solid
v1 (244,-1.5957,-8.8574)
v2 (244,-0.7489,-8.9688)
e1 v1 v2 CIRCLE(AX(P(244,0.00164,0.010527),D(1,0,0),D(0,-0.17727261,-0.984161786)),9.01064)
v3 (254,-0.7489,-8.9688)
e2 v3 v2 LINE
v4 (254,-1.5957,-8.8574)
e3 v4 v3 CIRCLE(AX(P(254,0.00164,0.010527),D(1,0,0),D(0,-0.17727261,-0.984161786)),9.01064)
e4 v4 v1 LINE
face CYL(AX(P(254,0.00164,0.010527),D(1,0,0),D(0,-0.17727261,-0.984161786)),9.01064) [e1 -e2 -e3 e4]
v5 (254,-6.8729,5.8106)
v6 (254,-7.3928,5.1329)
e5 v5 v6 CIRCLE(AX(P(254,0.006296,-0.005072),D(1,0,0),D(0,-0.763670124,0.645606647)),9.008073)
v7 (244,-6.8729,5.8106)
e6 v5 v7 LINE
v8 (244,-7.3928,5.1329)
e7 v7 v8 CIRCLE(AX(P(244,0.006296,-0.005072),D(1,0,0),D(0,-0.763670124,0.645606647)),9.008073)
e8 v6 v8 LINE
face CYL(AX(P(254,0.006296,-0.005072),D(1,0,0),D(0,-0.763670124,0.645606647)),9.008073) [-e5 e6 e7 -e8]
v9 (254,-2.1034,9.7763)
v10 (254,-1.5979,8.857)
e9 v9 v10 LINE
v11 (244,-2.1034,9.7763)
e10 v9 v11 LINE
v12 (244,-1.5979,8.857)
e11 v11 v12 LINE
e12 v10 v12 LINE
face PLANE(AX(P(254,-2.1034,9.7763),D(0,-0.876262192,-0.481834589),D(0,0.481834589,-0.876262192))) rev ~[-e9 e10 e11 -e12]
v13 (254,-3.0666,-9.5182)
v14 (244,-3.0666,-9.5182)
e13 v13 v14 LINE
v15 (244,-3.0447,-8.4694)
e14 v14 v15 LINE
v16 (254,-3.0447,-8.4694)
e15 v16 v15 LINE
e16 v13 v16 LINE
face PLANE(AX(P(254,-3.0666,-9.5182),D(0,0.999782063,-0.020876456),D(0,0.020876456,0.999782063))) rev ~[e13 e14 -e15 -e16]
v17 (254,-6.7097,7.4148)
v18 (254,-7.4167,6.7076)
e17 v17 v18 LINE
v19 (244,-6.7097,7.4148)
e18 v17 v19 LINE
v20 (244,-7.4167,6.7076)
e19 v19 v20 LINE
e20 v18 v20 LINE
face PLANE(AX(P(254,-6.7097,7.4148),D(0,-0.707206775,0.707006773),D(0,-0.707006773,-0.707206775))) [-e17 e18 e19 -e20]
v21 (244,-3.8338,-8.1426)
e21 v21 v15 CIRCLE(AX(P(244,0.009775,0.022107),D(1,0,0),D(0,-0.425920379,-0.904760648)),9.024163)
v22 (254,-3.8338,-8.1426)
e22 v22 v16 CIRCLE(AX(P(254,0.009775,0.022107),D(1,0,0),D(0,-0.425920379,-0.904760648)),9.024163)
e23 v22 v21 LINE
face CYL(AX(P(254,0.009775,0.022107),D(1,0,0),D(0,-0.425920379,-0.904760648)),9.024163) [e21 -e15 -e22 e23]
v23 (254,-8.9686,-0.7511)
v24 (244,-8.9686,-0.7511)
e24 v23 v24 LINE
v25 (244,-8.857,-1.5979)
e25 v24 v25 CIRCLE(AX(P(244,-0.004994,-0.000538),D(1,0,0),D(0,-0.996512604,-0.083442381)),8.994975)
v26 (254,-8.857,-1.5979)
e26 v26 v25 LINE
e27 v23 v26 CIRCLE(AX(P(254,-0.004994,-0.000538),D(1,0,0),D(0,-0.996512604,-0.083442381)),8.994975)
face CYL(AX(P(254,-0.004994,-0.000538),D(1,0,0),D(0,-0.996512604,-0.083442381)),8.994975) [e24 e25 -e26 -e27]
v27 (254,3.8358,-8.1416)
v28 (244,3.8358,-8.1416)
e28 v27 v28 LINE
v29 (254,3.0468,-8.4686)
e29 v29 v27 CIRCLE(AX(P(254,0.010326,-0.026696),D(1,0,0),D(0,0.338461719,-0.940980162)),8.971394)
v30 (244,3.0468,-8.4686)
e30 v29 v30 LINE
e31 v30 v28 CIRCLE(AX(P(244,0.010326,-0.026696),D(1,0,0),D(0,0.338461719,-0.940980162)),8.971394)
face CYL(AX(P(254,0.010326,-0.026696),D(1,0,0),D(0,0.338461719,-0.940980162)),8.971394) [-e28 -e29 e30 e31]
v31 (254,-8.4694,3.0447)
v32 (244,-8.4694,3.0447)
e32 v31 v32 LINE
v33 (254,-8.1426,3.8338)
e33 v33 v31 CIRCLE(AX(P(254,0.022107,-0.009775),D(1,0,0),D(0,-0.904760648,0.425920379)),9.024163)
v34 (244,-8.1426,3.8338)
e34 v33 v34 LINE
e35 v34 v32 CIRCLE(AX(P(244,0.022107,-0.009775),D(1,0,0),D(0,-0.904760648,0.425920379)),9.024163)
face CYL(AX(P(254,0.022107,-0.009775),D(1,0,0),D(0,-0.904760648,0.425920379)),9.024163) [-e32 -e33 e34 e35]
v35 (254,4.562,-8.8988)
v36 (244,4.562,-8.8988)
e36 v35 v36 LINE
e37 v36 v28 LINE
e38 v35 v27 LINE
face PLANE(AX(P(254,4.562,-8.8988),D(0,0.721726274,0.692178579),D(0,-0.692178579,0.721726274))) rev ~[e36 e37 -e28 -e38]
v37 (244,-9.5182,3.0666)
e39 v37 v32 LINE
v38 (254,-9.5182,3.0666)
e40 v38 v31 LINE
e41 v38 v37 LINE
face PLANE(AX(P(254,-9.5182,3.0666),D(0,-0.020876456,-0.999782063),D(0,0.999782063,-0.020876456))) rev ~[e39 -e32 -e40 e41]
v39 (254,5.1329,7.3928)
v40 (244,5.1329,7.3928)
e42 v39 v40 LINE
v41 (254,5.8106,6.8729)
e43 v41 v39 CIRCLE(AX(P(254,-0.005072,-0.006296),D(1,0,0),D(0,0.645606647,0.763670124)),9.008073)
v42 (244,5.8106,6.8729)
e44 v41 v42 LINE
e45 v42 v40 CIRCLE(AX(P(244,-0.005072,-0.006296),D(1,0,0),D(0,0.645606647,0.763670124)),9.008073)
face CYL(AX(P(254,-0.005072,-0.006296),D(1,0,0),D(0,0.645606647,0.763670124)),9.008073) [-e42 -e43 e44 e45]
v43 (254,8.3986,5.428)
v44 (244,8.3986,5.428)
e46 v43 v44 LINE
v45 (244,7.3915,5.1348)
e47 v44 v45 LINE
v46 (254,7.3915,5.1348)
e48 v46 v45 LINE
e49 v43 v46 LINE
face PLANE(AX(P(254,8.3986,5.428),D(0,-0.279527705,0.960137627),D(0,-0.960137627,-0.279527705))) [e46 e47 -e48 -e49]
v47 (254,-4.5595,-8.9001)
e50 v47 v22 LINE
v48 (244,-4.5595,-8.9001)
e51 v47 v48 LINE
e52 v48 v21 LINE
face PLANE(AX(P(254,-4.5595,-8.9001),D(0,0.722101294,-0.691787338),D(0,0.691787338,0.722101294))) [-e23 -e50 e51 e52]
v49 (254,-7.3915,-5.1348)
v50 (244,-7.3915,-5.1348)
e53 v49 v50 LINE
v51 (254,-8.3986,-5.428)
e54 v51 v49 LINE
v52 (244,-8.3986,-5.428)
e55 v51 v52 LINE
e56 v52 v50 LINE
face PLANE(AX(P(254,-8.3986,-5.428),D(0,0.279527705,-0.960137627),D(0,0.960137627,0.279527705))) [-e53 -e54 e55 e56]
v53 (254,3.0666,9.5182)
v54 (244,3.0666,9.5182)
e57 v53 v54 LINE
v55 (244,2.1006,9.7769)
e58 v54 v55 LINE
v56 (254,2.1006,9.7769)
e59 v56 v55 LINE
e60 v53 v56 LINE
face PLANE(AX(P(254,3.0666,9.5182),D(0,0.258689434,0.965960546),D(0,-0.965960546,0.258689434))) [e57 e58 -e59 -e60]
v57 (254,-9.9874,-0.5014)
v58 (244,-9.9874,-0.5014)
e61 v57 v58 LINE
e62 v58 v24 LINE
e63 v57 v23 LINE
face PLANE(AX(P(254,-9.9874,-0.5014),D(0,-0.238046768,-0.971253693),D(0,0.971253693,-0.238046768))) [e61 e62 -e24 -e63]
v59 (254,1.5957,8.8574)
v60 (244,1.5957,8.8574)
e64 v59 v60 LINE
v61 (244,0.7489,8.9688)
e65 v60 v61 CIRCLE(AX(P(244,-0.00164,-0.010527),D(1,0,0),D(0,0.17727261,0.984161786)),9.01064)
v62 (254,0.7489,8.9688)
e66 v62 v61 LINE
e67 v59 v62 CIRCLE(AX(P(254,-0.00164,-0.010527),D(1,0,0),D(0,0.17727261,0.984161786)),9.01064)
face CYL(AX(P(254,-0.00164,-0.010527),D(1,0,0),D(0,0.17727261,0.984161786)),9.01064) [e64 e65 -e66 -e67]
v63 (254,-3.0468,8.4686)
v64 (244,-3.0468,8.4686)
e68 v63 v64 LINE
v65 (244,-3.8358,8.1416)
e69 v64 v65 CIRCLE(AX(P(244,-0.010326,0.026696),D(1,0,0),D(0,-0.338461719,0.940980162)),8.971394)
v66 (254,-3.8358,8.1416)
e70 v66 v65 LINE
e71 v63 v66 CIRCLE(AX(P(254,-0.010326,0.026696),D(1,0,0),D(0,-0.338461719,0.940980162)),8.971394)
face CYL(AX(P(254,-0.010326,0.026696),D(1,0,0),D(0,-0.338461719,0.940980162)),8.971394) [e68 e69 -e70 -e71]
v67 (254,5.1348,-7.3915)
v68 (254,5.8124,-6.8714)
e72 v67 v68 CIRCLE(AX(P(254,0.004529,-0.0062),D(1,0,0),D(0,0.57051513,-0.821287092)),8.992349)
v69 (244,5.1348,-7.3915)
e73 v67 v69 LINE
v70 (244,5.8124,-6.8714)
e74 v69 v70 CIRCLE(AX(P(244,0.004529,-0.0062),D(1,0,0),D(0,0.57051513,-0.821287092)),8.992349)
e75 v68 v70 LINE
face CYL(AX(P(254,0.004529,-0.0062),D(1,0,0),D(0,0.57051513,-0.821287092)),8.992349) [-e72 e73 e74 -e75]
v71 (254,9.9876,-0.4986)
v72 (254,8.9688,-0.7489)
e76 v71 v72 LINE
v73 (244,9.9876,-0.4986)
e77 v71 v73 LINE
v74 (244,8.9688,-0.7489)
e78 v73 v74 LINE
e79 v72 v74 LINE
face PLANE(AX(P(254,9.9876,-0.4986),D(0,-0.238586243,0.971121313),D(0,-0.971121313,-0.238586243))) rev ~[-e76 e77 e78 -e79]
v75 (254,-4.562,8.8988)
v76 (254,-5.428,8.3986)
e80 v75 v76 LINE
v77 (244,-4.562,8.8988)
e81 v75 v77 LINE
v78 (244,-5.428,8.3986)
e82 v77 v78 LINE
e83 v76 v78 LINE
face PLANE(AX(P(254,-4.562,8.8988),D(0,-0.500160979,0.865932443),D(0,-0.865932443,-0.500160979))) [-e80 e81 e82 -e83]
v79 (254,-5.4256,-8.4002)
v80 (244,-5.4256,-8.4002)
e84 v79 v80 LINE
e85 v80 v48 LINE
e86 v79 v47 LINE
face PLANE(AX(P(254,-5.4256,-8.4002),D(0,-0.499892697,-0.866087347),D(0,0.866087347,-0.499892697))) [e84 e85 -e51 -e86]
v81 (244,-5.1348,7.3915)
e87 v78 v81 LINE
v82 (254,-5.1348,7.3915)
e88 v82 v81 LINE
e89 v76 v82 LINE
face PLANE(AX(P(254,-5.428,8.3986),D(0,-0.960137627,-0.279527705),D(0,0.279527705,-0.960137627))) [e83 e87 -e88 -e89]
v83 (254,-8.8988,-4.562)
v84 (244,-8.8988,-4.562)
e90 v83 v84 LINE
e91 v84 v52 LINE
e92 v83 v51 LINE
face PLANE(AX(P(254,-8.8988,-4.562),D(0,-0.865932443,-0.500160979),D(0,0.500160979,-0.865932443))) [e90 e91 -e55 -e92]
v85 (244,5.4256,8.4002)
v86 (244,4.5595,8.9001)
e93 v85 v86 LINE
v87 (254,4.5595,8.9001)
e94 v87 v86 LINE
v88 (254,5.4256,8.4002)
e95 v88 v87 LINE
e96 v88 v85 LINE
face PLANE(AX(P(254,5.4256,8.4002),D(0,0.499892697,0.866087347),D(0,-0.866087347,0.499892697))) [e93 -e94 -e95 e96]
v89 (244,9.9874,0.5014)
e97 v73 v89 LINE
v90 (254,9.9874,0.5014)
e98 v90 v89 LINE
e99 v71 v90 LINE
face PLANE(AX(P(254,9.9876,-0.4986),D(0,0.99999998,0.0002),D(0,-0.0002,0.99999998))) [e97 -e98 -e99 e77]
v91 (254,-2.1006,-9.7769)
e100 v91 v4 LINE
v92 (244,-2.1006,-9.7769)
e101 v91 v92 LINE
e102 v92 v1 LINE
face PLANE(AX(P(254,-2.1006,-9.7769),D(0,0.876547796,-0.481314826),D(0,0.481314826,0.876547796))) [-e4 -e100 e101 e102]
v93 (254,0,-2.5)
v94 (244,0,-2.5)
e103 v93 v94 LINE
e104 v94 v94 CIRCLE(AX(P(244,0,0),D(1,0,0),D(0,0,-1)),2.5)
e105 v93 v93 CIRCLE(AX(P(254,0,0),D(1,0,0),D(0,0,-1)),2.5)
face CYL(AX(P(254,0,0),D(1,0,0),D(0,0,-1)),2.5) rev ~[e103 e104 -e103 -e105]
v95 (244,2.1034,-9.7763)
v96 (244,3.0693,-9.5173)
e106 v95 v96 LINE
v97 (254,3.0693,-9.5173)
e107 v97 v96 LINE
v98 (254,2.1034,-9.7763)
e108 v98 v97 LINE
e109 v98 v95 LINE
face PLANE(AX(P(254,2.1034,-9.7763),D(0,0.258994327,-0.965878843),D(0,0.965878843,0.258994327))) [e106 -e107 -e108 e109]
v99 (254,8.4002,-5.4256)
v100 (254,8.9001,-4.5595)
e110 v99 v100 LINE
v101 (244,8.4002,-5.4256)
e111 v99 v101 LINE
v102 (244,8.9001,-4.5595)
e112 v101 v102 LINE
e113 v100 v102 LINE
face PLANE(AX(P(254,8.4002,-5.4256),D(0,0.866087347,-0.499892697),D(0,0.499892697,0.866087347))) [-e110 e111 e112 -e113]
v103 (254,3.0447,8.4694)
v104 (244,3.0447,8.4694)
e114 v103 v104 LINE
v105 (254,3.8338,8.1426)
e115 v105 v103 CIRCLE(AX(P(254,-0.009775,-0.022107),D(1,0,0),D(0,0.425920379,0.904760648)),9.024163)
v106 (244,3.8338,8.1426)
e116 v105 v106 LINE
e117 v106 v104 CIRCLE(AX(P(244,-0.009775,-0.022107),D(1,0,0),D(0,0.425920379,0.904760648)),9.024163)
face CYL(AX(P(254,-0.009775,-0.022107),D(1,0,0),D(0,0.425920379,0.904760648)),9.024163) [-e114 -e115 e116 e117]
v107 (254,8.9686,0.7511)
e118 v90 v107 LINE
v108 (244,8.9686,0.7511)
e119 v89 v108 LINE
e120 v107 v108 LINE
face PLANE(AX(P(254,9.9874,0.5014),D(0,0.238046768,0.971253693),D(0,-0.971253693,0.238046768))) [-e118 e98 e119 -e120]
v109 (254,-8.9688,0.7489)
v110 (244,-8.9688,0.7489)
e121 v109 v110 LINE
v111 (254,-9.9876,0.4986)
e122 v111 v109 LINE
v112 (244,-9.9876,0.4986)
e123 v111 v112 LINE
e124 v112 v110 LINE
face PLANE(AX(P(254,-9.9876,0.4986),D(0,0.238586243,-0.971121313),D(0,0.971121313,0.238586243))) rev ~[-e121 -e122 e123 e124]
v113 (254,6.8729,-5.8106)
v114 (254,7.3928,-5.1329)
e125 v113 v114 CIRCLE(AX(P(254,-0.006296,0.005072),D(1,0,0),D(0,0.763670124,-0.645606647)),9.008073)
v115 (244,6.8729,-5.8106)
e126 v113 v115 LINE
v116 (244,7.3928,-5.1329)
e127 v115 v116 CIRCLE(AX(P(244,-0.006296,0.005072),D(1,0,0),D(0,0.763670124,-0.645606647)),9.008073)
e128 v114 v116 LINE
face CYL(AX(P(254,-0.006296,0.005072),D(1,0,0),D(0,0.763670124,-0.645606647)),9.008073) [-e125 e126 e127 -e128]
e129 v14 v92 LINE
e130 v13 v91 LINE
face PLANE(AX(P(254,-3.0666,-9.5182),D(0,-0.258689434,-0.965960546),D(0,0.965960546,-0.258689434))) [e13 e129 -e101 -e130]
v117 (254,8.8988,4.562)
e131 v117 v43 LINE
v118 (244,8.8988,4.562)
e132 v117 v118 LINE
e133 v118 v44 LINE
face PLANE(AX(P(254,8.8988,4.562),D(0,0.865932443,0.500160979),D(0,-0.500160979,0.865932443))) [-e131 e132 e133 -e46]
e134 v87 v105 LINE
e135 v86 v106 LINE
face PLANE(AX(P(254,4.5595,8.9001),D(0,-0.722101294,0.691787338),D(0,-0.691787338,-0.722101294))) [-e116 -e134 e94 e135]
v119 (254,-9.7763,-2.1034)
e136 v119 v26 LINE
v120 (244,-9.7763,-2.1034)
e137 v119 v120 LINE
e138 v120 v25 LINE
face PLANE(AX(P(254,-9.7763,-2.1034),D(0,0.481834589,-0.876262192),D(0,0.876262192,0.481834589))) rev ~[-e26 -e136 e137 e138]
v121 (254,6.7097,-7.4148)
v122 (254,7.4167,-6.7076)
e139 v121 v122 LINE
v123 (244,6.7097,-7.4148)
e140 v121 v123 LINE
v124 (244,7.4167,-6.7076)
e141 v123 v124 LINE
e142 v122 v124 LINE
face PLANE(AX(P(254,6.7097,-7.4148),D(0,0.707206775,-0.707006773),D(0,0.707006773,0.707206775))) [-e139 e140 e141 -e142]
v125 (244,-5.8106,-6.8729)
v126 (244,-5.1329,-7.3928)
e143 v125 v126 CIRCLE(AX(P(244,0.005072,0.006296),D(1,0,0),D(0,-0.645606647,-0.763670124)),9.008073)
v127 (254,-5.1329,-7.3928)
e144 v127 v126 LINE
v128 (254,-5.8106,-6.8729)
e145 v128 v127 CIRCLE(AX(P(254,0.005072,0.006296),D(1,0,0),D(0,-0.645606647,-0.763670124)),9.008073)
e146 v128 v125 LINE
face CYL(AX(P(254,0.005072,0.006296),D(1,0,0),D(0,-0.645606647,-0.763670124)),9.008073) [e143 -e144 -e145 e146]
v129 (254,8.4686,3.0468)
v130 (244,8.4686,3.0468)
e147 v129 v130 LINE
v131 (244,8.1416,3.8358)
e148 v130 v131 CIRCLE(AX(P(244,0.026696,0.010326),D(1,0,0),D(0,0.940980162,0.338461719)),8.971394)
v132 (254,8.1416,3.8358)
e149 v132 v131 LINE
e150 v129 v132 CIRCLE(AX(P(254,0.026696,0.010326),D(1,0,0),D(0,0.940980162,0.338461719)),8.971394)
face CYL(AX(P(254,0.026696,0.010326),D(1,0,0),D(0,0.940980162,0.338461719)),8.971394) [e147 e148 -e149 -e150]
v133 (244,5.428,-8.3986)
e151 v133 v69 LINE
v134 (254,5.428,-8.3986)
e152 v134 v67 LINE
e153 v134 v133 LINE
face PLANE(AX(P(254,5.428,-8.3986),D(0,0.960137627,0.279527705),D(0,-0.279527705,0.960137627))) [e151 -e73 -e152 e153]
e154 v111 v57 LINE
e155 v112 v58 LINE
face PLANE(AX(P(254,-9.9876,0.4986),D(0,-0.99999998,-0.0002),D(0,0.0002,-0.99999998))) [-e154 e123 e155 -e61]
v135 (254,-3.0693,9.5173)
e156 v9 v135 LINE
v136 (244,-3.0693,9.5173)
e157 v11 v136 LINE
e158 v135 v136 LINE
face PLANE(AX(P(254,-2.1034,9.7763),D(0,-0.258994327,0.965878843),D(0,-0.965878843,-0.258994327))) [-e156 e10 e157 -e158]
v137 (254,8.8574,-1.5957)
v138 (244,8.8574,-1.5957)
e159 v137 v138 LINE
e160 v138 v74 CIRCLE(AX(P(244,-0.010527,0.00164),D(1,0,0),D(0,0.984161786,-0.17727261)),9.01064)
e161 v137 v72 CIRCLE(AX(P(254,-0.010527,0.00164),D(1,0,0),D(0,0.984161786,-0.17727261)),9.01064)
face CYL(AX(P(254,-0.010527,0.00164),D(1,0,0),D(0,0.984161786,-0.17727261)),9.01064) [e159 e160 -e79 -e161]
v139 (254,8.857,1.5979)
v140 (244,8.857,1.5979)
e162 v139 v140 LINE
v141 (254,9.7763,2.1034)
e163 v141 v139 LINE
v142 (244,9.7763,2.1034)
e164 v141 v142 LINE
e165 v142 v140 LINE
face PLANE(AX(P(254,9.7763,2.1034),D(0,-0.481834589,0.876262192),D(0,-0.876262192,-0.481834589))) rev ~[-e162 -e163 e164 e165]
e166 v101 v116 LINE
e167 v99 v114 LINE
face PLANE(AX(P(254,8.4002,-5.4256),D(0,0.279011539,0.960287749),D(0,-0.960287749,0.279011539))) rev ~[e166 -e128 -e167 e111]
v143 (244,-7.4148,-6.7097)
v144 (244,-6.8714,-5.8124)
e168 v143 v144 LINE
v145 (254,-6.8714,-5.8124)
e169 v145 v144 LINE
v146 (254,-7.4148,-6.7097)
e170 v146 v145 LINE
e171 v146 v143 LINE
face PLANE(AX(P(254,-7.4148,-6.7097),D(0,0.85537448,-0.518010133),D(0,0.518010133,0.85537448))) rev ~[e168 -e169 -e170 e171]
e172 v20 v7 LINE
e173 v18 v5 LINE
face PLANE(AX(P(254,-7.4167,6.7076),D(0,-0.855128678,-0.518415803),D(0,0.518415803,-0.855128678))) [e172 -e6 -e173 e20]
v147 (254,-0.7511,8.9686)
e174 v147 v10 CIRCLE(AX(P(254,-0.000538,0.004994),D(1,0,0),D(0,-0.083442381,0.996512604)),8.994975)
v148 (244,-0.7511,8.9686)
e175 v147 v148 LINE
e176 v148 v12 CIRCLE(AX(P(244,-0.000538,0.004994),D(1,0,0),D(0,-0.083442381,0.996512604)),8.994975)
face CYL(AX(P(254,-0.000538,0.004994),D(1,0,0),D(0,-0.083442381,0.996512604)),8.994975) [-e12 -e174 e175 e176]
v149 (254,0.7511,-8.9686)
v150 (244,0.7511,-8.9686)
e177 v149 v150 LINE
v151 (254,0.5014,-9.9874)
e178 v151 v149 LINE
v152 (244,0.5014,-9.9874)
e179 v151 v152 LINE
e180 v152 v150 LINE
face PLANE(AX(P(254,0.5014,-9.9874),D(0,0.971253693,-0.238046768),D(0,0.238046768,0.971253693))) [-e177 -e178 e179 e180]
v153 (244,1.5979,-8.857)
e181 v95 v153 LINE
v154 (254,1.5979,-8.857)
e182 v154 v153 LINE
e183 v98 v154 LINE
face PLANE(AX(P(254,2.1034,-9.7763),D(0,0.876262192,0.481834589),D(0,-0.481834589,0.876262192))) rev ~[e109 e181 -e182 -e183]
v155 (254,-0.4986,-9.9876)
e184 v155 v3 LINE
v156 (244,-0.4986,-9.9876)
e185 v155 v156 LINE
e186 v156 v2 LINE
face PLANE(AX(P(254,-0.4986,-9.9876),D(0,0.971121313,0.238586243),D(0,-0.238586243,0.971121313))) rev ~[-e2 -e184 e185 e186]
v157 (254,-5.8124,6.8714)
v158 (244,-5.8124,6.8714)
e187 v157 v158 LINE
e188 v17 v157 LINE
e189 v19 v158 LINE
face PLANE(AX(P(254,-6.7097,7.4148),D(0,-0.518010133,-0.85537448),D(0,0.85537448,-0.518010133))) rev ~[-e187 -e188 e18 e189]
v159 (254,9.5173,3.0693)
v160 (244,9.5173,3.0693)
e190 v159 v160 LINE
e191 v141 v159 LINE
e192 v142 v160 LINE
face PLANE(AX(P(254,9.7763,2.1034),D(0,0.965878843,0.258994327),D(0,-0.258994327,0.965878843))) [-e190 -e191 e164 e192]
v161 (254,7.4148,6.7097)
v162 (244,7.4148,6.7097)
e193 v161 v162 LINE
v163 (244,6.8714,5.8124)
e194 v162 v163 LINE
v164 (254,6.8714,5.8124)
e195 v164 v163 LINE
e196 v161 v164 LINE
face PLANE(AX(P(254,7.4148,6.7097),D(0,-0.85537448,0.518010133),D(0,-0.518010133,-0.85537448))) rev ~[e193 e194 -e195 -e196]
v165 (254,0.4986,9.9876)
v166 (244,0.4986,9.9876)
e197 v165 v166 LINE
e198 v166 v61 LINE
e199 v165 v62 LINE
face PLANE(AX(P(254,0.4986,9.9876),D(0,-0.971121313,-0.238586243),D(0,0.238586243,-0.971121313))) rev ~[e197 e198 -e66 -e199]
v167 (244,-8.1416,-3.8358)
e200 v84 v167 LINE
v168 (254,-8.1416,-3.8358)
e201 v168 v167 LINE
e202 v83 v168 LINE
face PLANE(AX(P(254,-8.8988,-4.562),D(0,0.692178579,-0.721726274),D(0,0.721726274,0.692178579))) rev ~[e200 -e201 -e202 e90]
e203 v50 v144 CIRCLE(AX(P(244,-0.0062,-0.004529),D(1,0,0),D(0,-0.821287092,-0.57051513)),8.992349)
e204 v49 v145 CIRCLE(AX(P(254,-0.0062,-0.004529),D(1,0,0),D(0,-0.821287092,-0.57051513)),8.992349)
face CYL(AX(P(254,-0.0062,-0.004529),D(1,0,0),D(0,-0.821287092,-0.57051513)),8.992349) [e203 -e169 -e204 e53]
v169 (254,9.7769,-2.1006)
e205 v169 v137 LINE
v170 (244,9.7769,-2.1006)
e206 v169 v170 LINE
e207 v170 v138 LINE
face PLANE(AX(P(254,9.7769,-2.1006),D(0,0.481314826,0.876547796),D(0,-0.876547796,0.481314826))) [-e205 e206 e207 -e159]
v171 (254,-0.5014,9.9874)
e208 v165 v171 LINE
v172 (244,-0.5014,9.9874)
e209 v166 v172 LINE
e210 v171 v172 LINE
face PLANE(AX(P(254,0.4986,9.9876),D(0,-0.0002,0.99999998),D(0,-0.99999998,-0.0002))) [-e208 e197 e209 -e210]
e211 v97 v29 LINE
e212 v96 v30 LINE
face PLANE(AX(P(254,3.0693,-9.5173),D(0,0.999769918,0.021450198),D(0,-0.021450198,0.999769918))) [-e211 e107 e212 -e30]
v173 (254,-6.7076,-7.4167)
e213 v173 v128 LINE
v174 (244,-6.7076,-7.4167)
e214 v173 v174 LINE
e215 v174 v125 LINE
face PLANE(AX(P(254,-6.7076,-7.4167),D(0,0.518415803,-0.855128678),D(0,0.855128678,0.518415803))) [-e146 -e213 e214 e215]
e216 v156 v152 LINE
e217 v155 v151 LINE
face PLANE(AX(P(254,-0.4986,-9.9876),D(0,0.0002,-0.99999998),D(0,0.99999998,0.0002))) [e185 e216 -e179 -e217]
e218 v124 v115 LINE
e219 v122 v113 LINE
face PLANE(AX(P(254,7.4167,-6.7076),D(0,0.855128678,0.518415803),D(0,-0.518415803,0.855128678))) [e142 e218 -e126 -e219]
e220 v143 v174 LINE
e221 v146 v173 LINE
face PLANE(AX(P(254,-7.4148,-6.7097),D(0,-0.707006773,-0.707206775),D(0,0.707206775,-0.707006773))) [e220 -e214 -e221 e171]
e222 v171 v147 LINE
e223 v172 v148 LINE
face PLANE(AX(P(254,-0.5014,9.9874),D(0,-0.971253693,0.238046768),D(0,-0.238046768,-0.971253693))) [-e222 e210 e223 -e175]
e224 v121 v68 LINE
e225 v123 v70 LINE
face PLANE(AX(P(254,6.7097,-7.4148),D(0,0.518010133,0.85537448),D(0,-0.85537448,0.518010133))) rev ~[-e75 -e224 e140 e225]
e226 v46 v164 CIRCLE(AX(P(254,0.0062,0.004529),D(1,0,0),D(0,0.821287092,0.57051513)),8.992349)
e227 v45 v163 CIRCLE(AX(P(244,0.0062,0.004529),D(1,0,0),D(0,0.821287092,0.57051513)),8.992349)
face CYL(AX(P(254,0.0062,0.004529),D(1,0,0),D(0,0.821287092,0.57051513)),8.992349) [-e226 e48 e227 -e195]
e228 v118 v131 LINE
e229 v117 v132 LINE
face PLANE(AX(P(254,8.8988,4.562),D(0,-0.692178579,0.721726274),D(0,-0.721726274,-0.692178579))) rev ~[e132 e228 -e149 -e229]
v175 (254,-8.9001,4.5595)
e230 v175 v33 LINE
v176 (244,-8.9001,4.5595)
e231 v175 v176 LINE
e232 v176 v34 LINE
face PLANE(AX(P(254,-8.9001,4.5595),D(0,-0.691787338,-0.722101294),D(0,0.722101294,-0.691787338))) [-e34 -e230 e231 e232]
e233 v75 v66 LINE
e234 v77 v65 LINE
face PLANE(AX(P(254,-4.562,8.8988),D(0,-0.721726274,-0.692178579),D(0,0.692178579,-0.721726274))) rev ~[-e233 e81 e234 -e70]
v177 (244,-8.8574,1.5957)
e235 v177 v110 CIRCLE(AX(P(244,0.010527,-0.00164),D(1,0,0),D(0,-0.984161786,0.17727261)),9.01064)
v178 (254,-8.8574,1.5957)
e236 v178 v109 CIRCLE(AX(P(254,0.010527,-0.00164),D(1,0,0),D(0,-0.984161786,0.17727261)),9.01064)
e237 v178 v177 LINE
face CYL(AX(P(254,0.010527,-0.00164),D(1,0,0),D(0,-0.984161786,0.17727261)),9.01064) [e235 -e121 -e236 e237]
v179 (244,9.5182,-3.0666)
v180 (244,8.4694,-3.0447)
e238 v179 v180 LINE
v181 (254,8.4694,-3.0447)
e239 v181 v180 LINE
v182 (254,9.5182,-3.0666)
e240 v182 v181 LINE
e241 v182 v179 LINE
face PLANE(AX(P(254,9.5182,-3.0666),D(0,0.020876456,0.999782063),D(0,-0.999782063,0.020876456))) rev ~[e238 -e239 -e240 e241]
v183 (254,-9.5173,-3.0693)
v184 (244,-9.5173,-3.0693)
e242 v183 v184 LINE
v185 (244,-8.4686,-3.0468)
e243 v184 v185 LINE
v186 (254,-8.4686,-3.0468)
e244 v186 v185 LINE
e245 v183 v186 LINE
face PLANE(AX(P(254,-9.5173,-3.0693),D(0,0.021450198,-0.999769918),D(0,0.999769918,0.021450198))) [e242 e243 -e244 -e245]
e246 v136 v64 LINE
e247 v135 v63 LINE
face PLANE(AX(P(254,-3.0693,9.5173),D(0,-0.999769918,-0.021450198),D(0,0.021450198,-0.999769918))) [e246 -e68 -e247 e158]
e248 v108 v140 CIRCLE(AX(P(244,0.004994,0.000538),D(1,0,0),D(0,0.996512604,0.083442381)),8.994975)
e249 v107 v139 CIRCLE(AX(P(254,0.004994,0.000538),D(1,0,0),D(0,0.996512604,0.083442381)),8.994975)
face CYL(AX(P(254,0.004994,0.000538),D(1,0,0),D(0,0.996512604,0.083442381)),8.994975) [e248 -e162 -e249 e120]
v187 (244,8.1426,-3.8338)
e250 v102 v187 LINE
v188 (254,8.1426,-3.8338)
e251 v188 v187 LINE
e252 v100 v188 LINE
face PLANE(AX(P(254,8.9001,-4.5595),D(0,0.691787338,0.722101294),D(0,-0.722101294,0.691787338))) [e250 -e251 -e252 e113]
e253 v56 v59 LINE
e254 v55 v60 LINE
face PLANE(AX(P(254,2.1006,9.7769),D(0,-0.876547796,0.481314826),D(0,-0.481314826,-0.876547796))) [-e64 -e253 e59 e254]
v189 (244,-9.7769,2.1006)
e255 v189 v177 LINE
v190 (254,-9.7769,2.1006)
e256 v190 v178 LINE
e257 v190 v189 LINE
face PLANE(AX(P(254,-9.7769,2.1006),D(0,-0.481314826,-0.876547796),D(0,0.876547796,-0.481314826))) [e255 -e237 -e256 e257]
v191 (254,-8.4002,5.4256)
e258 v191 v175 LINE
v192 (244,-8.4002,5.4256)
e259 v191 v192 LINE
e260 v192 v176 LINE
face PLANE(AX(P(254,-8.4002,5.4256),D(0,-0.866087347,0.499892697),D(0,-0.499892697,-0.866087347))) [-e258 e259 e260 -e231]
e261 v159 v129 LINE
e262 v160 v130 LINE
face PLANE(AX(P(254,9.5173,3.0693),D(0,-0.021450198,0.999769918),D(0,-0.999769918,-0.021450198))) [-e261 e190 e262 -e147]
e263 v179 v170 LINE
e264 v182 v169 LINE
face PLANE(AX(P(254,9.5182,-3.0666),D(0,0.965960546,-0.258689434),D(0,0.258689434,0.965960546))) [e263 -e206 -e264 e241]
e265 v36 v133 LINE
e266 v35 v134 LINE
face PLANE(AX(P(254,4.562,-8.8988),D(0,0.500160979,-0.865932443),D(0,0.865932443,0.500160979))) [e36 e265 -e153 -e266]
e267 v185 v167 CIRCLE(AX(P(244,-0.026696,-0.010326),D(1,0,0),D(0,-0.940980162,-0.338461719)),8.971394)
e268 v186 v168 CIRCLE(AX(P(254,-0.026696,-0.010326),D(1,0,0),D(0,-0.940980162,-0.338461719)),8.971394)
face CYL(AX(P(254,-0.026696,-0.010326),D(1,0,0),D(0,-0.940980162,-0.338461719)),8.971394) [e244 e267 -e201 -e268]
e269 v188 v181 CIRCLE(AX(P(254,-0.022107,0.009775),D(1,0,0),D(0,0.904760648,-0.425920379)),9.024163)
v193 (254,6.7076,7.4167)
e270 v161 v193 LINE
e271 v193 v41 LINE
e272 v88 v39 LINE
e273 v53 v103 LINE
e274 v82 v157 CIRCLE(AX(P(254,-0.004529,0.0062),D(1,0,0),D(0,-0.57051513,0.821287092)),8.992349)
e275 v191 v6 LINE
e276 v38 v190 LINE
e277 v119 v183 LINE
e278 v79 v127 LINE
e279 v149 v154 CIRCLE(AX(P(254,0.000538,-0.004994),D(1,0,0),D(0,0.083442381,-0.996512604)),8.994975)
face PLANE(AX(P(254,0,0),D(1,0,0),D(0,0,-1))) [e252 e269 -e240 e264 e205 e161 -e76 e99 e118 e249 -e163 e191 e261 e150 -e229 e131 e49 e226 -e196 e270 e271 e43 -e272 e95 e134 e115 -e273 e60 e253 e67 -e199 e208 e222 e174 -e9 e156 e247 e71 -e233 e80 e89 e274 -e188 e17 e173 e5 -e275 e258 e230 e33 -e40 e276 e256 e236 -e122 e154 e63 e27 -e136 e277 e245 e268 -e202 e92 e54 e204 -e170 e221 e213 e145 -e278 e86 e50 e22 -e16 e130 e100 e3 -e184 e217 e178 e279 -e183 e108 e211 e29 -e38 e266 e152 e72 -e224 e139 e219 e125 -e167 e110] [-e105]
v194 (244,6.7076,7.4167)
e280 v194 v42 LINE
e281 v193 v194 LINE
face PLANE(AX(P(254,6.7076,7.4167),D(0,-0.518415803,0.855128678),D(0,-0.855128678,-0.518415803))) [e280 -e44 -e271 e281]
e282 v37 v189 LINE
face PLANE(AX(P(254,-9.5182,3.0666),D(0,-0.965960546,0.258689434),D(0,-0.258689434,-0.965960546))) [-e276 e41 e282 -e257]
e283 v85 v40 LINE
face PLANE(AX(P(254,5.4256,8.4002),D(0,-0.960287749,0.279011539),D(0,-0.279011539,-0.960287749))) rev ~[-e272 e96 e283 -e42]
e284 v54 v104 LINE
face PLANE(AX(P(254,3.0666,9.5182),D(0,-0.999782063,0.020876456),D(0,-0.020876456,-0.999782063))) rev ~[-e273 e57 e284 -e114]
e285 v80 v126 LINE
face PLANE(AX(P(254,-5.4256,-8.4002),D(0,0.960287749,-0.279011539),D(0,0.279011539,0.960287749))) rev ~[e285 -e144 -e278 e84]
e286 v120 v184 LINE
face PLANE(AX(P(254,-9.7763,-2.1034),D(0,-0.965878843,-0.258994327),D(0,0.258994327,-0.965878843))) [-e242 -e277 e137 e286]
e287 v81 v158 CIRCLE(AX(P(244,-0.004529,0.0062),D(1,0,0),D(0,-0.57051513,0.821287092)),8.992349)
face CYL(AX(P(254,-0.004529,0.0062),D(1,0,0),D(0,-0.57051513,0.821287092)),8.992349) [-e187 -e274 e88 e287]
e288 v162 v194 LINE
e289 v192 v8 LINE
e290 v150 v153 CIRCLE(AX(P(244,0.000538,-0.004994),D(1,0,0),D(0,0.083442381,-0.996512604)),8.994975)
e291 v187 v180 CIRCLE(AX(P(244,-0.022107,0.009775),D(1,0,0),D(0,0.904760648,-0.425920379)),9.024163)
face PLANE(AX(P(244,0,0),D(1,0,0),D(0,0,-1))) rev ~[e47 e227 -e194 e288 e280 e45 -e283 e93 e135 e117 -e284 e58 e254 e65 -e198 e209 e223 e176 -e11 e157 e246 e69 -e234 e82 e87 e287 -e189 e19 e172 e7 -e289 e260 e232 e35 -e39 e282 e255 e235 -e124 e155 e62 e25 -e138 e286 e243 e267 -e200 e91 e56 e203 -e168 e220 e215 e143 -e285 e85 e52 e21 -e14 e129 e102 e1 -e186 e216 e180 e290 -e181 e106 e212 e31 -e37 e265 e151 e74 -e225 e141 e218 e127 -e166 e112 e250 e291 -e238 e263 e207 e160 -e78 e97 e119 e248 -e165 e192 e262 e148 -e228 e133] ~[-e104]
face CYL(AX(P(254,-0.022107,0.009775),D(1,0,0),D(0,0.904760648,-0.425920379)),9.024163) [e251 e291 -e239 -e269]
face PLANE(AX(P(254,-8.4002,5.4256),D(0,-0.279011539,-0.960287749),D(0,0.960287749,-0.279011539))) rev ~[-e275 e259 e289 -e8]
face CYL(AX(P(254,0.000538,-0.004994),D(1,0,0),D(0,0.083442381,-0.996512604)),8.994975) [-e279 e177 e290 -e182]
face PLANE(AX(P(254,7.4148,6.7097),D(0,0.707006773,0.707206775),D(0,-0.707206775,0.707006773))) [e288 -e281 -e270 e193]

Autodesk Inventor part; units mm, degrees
ref_plane "Work Plane1" through (254, 0, 0) normal (1, 0, 0) x (0, 0, -1)
ref_plane "Work Plane2" through (254, 0, 0) normal (1, 0, 0) x (0, 0, -1)
sketch "Sketch3" plane through (254, 0, 0) normal (1, 0, 0) x (0, 0, -1)
  arc A0 (-0.5014, 9.9874) -> (0.4986, 9.9876) centre (0, 0) ccw
  line L0 (0.4986, 9.9876) -> (-0.5014, 9.9874)
  line L1 (-0.5014, 9.9874) -> (-0.7511, 8.9686)
  line L2 (0.4986, 9.9876) -> (0.7489, 8.9688)
  line L3 (-3.0693, 9.5173) -> (-3.0468, 8.4686)
  line L4 (-2.1034, 9.7763) -> (-3.0693, 9.5173)
  line L5 (-2.1034, 9.7763) -> (-1.5979, 8.857)
  line L6 (-5.428, 8.3986) -> (-5.1348, 7.3915)
  line L7 (-4.562, 8.8988) -> (-5.428, 8.3986)
  line L8 (-4.562, 8.8988) -> (-3.8358, 8.1416)
  line L9 (-7.4167, 6.7076) -> (-6.8729, 5.8106)
  line L10 (-6.7097, 7.4148) -> (-7.4167, 6.7076)
  line L11 (-6.7097, 7.4148) -> (-5.8124, 6.8714)
  line L12 (-8.9001, 4.5595) -> (-8.1426, 3.8338)
  line L13 (-8.4002, 5.4256) -> (-8.9001, 4.5595)
  line L14 (-8.4002, 5.4256) -> (-7.3928, 5.1329)
  line L15 (-9.7769, 2.1006) -> (-8.8574, 1.5957)
  line L16 (-9.5182, 3.0666) -> (-9.7769, 2.1006)
  line L17 (-9.5182, 3.0666) -> (-8.4694, 3.0447)
  line L18 (-9.9874, -0.5014) -> (-8.9686, -0.7511)
  line L19 (-9.9876, 0.4986) -> (-9.9874, -0.5014)
  line L20 (-9.9876, 0.4986) -> (-8.9688, 0.7489)
  line L21 (-9.5173, -3.0693) -> (-8.4686, -3.0468)
  line L22 (-9.7763, -2.1034) -> (-9.5173, -3.0693)
  line L23 (-9.7763, -2.1034) -> (-8.857, -1.5979)
  line L24 (-8.3986, -5.428) -> (-7.3915, -5.1348)
  line L25 (-8.8988, -4.562) -> (-8.3986, -5.428)
  line L26 (-8.8988, -4.562) -> (-8.1416, -3.8358)
  line L27 (-6.7076, -7.4167) -> (-5.8106, -6.8729)
  line L28 (-7.4148, -6.7097) -> (-6.7076, -7.4167)
  line L29 (-7.4148, -6.7097) -> (-6.8714, -5.8124)
  line L30 (-4.5595, -8.9001) -> (-3.8338, -8.1426)
  line L31 (-5.4256, -8.4002) -> (-4.5595, -8.9001)
  line L32 (-5.4256, -8.4002) -> (-5.1329, -7.3928)
  line L33 (-2.1006, -9.7769) -> (-1.5957, -8.8574)
  line L34 (-3.0666, -9.5182) -> (-2.1006, -9.7769)
  line L35 (-3.0666, -9.5182) -> (-3.0447, -8.4694)
  line L36 (0.5014, -9.9874) -> (0.7511, -8.9686)
  line L37 (-0.4986, -9.9876) -> (0.5014, -9.9874)
  line L38 (-0.4986, -9.9876) -> (-0.7489, -8.9688)
  line L39 (3.0693, -9.5173) -> (3.0468, -8.4686)
  line L40 (2.1034, -9.7763) -> (3.0693, -9.5173)
  line L41 (2.1034, -9.7763) -> (1.5979, -8.857)
  line L42 (5.428, -8.3986) -> (5.1348, -7.3915)
  line L43 (4.562, -8.8988) -> (5.428, -8.3986)
  line L44 (4.562, -8.8988) -> (3.8358, -8.1416)
  line L45 (7.4167, -6.7076) -> (6.8729, -5.8106)
  line L46 (6.7097, -7.4148) -> (7.4167, -6.7076)
  line L47 (6.7097, -7.4148) -> (5.8124, -6.8714)
  line L48 (8.9001, -4.5595) -> (8.1426, -3.8338)
  line L49 (8.4002, -5.4256) -> (8.9001, -4.5595)
  line L50 (8.4002, -5.4256) -> (7.3928, -5.1329)
  line L51 (9.7769, -2.1006) -> (8.8574, -1.5957)
  line L52 (9.5182, -3.0666) -> (9.7769, -2.1006)
  line L53 (9.5182, -3.0666) -> (8.4694, -3.0447)
  line L54 (9.9874, 0.5014) -> (8.9686, 0.7511)
  line L55 (9.9876, -0.4986) -> (9.9874, 0.5014)
  line L56 (9.9876, -0.4986) -> (8.9688, -0.7489)
  line L57 (9.5173, 3.0693) -> (8.4686, 3.0468)
  line L58 (9.7763, 2.1034) -> (9.5173, 3.0693)
  line L59 (9.7763, 2.1034) -> (8.857, 1.5979)
  line L60 (8.3986, 5.428) -> (7.3915, 5.1348)
  line L61 (8.8988, 4.562) -> (8.3986, 5.428)
  line L62 (8.8988, 4.562) -> (8.1416, 3.8358)
  line L63 (6.7076, 7.4167) -> (5.8106, 6.8729)
  line L64 (7.4148, 6.7097) -> (6.7076, 7.4167)
  line L65 (7.4148, 6.7097) -> (6.8714, 5.8124)
  line L66 (4.5595, 8.9001) -> (3.8338, 8.1426)
  line L67 (5.4256, 8.4002) -> (4.5595, 8.9001)
  line L68 (5.4256, 8.4002) -> (5.1329, 7.3928)
  line L69 (2.1006, 9.7769) -> (1.5957, 8.8574)
  line L70 (3.0666, 9.5182) -> (2.1006, 9.7769)
  line L71 (3.0666, 9.5182) -> (3.0447, 8.4694)
  arc A1 (-0.7511, 8.9686) -> (-1.5979, 8.857) centre (0, 0) ccw
  arc A2 (-3.0468, 8.4686) -> (-3.8358, 8.1416) centre (0, 0) ccw
  arc A3 (-5.1348, 7.3915) -> (-5.8124, 6.8714) centre (0, 0) ccw
  arc A4 (-6.8729, 5.8106) -> (-7.3928, 5.1329) centre (0, 0) ccw
  arc A5 (-8.1426, 3.8338) -> (-8.4694, 3.0447) centre (0, 0) ccw
  arc A6 (-8.8574, 1.5957) -> (-8.9688, 0.7489) centre (0, 0) ccw
  arc A7 (-8.9686, -0.7511) -> (-8.857, -1.5979) centre (0, 0) ccw
  arc A8 (-8.4686, -3.0468) -> (-8.1416, -3.8358) centre (0, 0) ccw
  arc A9 (-7.3915, -5.1348) -> (-6.8714, -5.8124) centre (0, 0) ccw
  arc A10 (-5.8106, -6.8729) -> (-5.1329, -7.3928) centre (0, 0) ccw
  arc A11 (-3.8338, -8.1426) -> (-3.0447, -8.4694) centre (0, 0) ccw
  arc A12 (-1.5957, -8.8574) -> (-0.7489, -8.9688) centre (0, 0) ccw
  arc A13 (0.7511, -8.9686) -> (1.5979, -8.857) centre (0, 0) ccw
  arc A14 (3.0468, -8.4686) -> (3.8358, -8.1416) centre (0, 0) ccw
  arc A15 (5.1348, -7.3915) -> (5.8124, -6.8714) centre (0, 0) ccw
  arc A16 (6.8729, -5.8106) -> (7.3928, -5.1329) centre (0, 0) ccw
  arc A17 (8.1426, -3.8338) -> (8.4694, -3.0447) centre (0, 0) ccw
  arc A18 (8.8574, -1.5957) -> (8.9688, -0.7489) centre (0, 0) ccw
  arc A19 (8.9686, 0.7511) -> (8.857, 1.5979) centre (0, 0) ccw
  arc A20 (8.4686, 3.0468) -> (8.1416, 3.8358) centre (0, 0) ccw
  arc A21 (7.3915, 5.1348) -> (6.8714, 5.8124) centre (0, 0) ccw
  arc A22 (5.8106, 6.8729) -> (5.1329, 7.3928) centre (0, 0) ccw
  arc A23 (3.8338, 8.1426) -> (3.0447, 8.4694) centre (0, 0) ccw
  arc A24 (1.5957, 8.8574) -> (0.7489, 8.9688) centre (0, 0) ccw
  dimension "d24" = 1.5
  dimension "d25" = 1
  dimension "d28" = 360
extrude "Extrusion3" add sketch "Sketch3" against normal blind 10 contours L0 L2 A24 L69 L70 L71 A23 L66 L67 L68 A22 L63 L64 L65 A21 L60 L61 L62 A20 L57 L58 L59 A19 L54 L55 L56 A18 L51 L52 L53 A17 L48 L49 L50 A16 L45 L46 L47 A15 L42 L43 L44 A14 L39 L40 L41 A13 L36 L37 L38 A12 L33 L34 L35 A11 L30 L31 L32 A10 L27 L28 L29 A9 L24 L25 L26 A8 L21 L22 L23 A7 L18 L19 L20 A6 L15 L16 L17 A5 L12 L13 L14 A4 L9 L10 L11 A3 L6 L7 L8 A2 L3 L4 L5 A1 L1
ref_plane "Work Plane3" through (254, 0, 0) normal (1, 0, 0) x (0, 0, -1)
sketch "Sketch4" plane through (254, 0, 0) normal (1, 0, 0) x (0, 0, -1)
  circle A0 centre (0, 0) radius 2.5
  dimension "d32" = 5
extrude "Extrusion4" cut sketch "Sketch4" against normal blind 10
sketch "Sketch5" plane through (0, 0, 0) normal (1, 0, 0) x (0, 1, 0)
  point P0 (0, 0)
properties part number "parte adicional"
